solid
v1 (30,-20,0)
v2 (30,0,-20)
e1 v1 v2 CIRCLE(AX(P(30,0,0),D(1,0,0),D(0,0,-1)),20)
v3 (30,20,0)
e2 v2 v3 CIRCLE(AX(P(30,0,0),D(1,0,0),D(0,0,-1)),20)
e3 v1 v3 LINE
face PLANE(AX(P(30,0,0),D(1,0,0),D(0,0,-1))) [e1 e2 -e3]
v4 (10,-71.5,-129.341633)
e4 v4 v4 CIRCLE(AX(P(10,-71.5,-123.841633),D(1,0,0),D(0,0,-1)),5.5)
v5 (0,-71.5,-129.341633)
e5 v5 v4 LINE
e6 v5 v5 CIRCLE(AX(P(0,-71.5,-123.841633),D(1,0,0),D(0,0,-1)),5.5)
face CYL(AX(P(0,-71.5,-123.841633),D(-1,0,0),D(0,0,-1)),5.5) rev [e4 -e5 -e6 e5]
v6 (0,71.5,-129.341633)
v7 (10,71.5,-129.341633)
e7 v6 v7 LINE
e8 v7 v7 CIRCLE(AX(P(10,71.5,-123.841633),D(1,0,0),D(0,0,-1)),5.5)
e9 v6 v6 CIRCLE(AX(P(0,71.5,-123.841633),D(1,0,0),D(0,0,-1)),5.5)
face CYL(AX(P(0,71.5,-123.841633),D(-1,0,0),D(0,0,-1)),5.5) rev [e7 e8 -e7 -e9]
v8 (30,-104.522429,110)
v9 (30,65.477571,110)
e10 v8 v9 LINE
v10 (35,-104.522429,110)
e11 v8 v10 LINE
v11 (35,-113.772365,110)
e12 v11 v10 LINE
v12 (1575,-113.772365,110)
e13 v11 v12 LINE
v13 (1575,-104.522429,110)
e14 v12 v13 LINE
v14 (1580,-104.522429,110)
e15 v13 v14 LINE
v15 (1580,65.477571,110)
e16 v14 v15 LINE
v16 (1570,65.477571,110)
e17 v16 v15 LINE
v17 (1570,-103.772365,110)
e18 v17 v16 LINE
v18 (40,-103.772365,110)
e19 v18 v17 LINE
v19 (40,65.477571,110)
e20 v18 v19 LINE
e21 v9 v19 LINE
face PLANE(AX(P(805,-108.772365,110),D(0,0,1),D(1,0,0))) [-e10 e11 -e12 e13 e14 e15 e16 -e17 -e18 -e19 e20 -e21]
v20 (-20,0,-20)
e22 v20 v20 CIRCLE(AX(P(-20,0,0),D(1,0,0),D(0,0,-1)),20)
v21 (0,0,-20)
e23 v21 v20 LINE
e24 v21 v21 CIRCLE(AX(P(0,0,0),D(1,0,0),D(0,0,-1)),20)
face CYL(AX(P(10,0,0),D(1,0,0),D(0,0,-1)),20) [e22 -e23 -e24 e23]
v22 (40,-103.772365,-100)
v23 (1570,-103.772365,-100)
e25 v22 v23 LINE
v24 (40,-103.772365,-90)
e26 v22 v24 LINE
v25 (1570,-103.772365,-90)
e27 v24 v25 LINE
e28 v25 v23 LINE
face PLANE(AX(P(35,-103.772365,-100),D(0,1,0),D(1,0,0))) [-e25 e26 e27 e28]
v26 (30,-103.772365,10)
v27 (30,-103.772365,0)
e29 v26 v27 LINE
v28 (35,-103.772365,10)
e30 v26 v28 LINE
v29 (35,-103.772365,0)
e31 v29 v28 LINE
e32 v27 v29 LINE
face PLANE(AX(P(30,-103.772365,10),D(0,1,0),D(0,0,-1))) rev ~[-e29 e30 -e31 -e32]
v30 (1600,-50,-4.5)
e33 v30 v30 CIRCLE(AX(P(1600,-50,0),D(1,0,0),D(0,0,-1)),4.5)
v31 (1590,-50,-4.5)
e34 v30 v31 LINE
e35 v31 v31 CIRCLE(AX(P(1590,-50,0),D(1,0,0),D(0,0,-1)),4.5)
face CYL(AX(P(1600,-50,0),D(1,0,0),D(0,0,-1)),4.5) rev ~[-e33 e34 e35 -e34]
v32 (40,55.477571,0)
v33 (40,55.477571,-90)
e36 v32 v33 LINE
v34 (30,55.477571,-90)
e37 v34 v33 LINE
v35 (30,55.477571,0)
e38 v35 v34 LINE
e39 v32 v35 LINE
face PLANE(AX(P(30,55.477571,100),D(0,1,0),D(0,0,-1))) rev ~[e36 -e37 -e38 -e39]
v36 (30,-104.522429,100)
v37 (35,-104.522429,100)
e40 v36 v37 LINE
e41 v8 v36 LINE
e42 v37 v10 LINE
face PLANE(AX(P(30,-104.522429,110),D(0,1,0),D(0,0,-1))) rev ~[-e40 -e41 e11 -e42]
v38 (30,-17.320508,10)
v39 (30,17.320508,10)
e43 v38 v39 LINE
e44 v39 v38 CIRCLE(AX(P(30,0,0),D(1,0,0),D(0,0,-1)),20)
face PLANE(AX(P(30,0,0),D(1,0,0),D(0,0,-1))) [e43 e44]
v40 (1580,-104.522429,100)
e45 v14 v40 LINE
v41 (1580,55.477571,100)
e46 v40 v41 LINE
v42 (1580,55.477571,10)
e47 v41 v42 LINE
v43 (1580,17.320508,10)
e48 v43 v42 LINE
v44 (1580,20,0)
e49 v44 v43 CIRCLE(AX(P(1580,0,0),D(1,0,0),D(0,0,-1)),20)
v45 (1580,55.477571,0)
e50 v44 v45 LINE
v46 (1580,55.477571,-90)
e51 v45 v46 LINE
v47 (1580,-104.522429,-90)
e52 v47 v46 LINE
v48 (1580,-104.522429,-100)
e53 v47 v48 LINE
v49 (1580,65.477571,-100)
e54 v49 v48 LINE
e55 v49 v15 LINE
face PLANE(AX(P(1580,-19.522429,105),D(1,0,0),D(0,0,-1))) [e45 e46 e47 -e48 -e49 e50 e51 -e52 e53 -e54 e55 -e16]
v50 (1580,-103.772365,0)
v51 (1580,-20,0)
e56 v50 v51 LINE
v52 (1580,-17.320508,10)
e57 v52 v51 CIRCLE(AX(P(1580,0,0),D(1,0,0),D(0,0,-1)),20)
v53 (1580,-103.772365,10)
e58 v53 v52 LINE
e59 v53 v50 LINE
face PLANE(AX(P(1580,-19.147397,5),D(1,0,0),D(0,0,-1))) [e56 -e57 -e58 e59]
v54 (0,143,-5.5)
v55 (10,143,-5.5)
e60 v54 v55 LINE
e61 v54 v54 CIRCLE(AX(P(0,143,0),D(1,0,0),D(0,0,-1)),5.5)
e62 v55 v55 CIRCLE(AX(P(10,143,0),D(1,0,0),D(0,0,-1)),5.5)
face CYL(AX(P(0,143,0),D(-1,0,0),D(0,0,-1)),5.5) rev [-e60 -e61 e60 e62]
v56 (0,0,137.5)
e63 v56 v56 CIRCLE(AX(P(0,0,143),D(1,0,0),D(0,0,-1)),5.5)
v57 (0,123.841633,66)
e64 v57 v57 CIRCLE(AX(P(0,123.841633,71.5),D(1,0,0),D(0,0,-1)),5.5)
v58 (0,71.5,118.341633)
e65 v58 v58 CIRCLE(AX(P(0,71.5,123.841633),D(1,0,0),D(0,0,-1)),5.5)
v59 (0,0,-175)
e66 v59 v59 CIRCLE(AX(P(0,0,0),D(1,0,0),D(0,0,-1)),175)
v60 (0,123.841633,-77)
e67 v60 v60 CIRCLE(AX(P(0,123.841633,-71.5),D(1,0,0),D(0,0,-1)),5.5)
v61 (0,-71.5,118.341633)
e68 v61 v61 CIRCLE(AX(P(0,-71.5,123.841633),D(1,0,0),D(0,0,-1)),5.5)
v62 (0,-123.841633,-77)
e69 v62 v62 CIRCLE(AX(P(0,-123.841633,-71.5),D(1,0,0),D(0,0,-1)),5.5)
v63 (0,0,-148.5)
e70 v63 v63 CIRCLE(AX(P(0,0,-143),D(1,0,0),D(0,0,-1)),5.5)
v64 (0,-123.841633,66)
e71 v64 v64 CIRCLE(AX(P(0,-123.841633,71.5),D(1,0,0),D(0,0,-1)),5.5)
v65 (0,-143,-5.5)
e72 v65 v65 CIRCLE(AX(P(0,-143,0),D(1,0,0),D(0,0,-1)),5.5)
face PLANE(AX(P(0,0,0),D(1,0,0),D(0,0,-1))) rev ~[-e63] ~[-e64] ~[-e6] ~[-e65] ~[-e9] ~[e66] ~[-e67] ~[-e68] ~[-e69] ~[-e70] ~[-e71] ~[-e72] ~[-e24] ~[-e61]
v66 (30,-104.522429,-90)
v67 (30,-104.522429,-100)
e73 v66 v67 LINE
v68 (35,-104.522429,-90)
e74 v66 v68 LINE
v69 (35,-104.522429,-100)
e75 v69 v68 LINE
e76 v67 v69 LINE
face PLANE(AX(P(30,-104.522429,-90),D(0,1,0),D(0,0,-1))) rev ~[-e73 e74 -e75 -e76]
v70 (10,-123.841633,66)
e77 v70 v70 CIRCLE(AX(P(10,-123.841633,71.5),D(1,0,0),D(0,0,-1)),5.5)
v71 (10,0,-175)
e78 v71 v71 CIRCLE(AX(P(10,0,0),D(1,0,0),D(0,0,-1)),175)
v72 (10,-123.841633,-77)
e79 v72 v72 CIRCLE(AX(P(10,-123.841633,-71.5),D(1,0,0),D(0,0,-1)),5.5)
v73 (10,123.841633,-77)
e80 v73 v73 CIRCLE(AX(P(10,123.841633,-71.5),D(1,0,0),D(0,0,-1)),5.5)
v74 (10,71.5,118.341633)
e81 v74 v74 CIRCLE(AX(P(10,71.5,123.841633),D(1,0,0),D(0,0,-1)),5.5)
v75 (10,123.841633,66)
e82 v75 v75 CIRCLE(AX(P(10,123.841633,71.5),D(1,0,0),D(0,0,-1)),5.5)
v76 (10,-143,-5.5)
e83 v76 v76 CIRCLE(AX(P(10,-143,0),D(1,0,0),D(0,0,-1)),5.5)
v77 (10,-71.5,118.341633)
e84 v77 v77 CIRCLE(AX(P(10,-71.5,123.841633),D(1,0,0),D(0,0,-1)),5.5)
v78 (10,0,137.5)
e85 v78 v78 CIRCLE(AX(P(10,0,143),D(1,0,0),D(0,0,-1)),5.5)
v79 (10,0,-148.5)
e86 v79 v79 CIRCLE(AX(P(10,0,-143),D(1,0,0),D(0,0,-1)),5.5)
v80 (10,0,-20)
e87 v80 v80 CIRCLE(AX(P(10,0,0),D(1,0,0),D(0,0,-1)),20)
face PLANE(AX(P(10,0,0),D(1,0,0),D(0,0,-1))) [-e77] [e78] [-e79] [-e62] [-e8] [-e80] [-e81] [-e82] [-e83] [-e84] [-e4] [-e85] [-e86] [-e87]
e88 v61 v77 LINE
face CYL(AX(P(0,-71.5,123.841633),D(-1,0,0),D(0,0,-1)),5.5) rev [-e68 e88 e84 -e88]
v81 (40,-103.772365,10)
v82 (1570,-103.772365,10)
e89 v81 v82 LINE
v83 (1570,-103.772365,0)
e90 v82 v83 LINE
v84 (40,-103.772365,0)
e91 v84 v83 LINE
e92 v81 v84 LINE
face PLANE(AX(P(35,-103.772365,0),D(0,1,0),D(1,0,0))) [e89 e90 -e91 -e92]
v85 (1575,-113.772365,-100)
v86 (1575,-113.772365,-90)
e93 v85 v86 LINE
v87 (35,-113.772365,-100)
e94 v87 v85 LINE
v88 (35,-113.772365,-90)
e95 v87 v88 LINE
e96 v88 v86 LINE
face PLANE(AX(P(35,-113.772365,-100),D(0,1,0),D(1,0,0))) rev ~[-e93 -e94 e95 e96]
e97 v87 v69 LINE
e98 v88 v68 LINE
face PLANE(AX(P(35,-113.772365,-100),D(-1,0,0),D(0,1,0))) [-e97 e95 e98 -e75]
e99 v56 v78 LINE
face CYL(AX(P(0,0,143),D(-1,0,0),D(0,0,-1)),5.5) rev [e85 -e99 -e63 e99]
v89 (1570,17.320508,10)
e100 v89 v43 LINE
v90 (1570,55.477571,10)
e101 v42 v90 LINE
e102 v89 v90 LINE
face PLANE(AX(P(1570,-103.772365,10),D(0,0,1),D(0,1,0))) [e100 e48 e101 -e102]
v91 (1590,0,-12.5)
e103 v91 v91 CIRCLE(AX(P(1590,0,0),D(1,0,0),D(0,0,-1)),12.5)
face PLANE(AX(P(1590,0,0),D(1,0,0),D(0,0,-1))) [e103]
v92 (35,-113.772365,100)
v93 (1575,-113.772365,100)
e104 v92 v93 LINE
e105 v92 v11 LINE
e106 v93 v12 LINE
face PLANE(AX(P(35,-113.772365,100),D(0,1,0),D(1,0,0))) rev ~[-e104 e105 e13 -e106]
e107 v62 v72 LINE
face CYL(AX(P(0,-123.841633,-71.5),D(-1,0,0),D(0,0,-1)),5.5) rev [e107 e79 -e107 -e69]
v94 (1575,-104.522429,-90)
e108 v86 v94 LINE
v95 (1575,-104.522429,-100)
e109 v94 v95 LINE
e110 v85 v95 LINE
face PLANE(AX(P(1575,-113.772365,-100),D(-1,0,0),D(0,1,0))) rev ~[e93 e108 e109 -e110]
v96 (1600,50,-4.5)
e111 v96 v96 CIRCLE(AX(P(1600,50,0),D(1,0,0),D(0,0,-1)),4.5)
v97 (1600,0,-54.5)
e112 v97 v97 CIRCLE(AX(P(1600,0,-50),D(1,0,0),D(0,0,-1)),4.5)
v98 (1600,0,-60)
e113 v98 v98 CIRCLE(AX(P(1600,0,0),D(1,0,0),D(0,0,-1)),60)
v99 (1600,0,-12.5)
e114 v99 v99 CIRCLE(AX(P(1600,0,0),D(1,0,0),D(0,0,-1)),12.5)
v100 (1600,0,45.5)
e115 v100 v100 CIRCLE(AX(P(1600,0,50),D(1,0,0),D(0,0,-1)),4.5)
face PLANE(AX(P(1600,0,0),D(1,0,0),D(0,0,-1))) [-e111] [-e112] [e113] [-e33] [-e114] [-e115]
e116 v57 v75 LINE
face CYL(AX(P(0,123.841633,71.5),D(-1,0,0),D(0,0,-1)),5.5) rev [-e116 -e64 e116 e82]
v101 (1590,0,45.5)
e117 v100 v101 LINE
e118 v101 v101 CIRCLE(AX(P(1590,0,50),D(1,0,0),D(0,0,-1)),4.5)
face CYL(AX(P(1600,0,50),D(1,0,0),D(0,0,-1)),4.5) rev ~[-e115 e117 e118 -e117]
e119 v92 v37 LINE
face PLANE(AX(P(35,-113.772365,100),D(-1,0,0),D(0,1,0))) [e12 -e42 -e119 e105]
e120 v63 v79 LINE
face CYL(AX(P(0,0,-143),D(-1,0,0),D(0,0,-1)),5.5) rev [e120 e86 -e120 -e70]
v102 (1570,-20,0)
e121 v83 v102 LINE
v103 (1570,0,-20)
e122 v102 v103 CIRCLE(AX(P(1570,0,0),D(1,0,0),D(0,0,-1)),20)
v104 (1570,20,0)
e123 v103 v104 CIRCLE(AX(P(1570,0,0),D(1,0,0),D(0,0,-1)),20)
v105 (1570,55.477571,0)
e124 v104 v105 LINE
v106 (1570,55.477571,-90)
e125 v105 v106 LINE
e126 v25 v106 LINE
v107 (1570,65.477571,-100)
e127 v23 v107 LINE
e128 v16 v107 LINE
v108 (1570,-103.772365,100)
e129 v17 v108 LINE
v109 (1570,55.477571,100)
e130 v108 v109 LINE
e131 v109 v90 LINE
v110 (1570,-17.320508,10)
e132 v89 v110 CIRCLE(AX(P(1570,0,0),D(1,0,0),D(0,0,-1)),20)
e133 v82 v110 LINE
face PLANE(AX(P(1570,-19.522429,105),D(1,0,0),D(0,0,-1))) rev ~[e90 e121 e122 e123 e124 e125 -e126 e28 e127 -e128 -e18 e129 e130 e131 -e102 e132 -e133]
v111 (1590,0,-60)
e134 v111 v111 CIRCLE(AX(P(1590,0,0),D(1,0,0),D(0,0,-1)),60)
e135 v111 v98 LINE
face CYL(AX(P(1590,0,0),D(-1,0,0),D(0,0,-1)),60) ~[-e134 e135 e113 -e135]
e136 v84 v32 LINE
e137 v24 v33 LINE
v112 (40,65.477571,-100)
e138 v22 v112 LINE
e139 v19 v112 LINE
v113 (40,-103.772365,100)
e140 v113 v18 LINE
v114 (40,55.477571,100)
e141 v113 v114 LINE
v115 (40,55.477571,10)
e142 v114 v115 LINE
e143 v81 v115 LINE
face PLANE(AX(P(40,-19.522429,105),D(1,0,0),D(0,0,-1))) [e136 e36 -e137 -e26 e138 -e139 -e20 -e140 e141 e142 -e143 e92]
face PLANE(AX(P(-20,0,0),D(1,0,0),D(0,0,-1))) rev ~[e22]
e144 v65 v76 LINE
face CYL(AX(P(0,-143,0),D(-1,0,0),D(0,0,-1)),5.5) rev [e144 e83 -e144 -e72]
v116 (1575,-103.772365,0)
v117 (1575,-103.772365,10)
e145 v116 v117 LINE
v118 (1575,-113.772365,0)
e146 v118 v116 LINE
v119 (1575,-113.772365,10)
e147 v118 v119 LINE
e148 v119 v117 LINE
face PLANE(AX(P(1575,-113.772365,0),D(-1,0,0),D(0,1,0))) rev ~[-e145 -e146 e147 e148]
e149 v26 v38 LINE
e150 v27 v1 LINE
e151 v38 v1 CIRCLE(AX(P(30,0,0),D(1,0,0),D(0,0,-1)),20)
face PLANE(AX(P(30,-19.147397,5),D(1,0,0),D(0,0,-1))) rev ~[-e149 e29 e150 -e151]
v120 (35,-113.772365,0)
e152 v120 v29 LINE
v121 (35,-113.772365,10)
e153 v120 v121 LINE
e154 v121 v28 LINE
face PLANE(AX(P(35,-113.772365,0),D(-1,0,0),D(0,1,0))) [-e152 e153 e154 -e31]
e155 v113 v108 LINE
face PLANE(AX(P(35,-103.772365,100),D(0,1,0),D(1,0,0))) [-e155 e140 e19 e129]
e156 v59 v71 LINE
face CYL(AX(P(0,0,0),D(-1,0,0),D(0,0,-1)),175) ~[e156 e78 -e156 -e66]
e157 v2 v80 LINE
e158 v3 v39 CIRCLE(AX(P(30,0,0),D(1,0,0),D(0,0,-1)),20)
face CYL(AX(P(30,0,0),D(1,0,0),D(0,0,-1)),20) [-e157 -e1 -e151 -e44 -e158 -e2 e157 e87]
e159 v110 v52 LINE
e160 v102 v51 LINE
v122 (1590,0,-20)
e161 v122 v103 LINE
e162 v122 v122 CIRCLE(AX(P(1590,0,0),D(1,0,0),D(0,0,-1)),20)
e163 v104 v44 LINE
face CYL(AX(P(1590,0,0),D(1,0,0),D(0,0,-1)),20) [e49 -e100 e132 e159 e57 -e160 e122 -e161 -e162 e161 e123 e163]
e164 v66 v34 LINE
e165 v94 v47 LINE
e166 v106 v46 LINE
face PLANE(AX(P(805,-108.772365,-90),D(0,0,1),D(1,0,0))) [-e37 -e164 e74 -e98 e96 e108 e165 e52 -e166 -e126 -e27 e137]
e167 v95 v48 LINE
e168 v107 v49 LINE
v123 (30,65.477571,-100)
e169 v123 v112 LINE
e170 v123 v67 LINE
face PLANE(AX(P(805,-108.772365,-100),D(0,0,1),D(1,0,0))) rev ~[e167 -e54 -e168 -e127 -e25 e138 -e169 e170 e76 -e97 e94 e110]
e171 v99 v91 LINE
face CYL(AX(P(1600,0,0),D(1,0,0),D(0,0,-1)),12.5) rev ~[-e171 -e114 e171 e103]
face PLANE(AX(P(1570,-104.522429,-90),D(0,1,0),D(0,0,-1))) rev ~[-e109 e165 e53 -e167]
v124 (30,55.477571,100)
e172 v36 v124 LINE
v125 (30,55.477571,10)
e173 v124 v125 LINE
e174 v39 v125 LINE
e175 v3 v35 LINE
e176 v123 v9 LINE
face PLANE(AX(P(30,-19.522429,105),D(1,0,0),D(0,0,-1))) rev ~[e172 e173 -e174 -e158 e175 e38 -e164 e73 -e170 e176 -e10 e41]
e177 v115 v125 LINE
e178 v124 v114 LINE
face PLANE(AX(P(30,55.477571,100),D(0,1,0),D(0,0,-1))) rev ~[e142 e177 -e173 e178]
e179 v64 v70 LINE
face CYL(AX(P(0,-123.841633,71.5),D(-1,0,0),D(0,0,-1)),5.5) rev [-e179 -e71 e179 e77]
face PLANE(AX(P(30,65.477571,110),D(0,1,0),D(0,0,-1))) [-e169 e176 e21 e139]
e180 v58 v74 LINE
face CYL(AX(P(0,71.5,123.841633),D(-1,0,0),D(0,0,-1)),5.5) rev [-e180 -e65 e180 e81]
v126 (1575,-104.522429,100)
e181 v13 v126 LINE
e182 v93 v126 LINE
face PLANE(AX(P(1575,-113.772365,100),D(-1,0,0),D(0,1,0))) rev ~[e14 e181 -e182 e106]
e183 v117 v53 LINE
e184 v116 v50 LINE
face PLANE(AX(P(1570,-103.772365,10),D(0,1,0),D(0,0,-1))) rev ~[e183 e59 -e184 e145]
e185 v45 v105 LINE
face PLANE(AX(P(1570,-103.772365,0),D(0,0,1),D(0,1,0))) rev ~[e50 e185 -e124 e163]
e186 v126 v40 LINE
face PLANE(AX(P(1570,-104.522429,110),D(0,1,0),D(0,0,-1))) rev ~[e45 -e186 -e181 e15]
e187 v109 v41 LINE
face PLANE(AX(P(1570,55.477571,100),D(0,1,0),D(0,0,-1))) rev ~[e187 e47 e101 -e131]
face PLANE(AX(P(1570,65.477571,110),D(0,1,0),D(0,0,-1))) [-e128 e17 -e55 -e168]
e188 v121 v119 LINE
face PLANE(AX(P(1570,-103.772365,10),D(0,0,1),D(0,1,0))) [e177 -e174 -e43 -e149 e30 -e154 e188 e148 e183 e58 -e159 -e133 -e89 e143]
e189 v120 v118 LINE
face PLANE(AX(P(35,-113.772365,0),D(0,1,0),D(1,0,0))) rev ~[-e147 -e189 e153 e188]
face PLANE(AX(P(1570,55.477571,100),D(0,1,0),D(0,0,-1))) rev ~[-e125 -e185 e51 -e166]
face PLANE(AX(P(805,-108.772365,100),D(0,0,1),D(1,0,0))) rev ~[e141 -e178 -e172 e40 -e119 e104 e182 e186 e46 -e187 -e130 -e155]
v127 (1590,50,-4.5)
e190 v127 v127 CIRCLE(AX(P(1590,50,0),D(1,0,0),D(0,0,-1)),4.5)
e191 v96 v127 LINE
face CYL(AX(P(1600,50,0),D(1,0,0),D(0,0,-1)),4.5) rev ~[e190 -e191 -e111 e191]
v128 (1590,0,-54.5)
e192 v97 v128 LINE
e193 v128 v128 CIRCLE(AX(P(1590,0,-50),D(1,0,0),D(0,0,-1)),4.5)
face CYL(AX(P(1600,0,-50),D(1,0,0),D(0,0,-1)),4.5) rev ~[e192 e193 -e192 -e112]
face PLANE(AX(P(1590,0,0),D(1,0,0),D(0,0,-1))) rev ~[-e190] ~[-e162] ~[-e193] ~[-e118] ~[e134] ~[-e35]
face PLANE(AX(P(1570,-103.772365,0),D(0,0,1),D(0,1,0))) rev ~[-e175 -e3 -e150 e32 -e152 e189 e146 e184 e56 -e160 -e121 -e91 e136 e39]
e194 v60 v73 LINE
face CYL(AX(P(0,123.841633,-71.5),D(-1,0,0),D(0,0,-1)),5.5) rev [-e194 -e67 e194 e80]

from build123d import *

# Parameters (mm, degrees)
SKETCH_1_R             = 175
SKETCH_1_R_2           = 5.5
EXTRUDE_1_DEPTH        = 10
SKETCH_2_R             = 20
EXTRUDE_2_DEPTH        = 30
EXTRUDE_START          = 20
SKETCH_2_2_R           = 20
EXTRUDE_3_DEPTH        = 20
SKETCH_3_W             = 10
SKETCH_3_H             = 169.24993674
EXTRUDE_1_2_DEPTH      = 10
SKETCH_4_W             = 1540
SKETCH_4_H             = 10
EXTRUDE_2_2_DEPTH      = 10
PATTERN_LINEAR_1_COUNT = 2
PATTERN_LINEAR_1_PITCH = 1540
PATTERN_LINEAR_2_COUNT = 2
PATTERN_LINEAR_2_PITCH = 1560
SKETCH_5_R             = 60
EXTRUDE_4_DEPTH        = 10
CUT_EXTRUDE_2_REACH    = 1640.795
SKETCH_6_R             = 4.5
SKETCH_7_R             = 12.5
CUT_EXTRUDE_3_DEPTH    = 10
SKETCH_8_W             = 200
SKETCH_8_H             = 10
EXTRUDE_3_2_DEPTH      = 10
PATTERN_LINEAR_4_COUNT = 2
PATTERN_LINEAR_4_PITCH = 1540
SKETCH_9_W             = 10
SKETCH_9_H             = 170
EXTRUDE_4_2_DEPTH      = 10
PATTERN_LINEAR_6_COUNT = 2
PATTERN_LINEAR_6_PITCH = 100
PATTERN_LINEAR_7_COUNT = 2
PATTERN_LINEAR_7_PITCH = 1540
SKETCH_10_W            = 10
SKETCH_10_H            = 170
EXTRUDE_5_DEPTH        = 10
PATTERN_LINEAR_8_COUNT = 2
PATTERN_LINEAR_8_PITCH = 100
PATTERN_LINEAR_9_COUNT = 2
PATTERN_LINEAR_9_PITCH = 1540


with BuildPart() as part:
    # 草图1 → Extrude 1 (new body)
    with BuildSketch(Plane(origin=(0, 0, 0), x_dir=(0, 0, -1), z_dir=(1, 0, 0))):
        Circle(SKETCH_1_R)
        with Locations((-143, 0)):
            Circle(SKETCH_1_R_2, mode=Mode.SUBTRACT)
        with Locations((-123.841632741, 71.5)):
            Circle(SKETCH_1_R_2, mode=Mode.SUBTRACT)
        with Locations((-71.5, 123.841632741)):
            Circle(SKETCH_1_R_2, mode=Mode.SUBTRACT)
        with Locations((0, 143)):
            Circle(SKETCH_1_R_2, mode=Mode.SUBTRACT)
        with Locations((71.5, 123.841632741)):
            Circle(SKETCH_1_R_2, mode=Mode.SUBTRACT)
        with Locations((123.841632741, 71.5)):
            Circle(SKETCH_1_R_2, mode=Mode.SUBTRACT)
        with Locations((143, 0)):
            Circle(SKETCH_1_R_2, mode=Mode.SUBTRACT)
        with Locations((123.841632741, -71.5)):
            Circle(SKETCH_1_R_2, mode=Mode.SUBTRACT)
        with Locations((71.5, -123.841632741)):
            Circle(SKETCH_1_R_2, mode=Mode.SUBTRACT)
        with Locations((0, -143)):
            Circle(SKETCH_1_R_2, mode=Mode.SUBTRACT)
        with Locations((-71.5, -123.841632741)):
            Circle(SKETCH_1_R_2, mode=Mode.SUBTRACT)
        with Locations((-123.841632741, -71.5)):
            Circle(SKETCH_1_R_2, mode=Mode.SUBTRACT)
    extrude(amount=EXTRUDE_1_DEPTH)

    # 草图2 → Extrude 2 (add)
    with BuildSketch(Plane(origin=(10, 0, 0), x_dir=(0, 0, -1), z_dir=(1, 0, 0))):
        Circle(SKETCH_2_R)
    extrude(amount=-EXTRUDE_2_DEPTH)

    # 草图2<2> → Extrude 3 (add)
    with BuildSketch(Plane(origin=(10, 0, 0), x_dir=(0, 0, -1), z_dir=(1, 0, 0)).offset(EXTRUDE_START)):
        Circle(SKETCH_2_2_R)
    extrude_3 = extrude(amount=-EXTRUDE_3_DEPTH)

    # 草图3 → Extrude 1 2 (add)
    with BuildSketch(Plane(origin=(30, 0, 0), x_dir=(0, 0, -1), z_dir=(1, 0, 0))):
        with Locations((-5, -19.147397114)):
            Rectangle(SKETCH_3_W, SKETCH_3_H)
    extrude_1_2 = extrude(amount=EXTRUDE_1_2_DEPTH)

    # 草图4 → Extrude 2 2 (add)
    with BuildSketch(Plane.XY):
        with Locations((805, -108.772365484)):
            Rectangle(SKETCH_4_W, SKETCH_4_H)
    extrude_2_2 = extrude(amount=EXTRUDE_2_2_DEPTH)

    # 阵列(线性)1: Extrude 1 2 ×2
    with Locations(*[(i * PATTERN_LINEAR_1_PITCH, 0, 0) for i in range(1, PATTERN_LINEAR_1_COUNT)]):
        add(extrude_1_2)

    # 阵列(线性)2: Extrude 3 ×2
    with Locations(*[(i * PATTERN_LINEAR_2_PITCH, 0, 0) for i in range(1, PATTERN_LINEAR_2_COUNT)]):
        add(extrude_3)

    # 草图5 → Extrude 4 (add)
    with BuildSketch(Plane(origin=(1590, 0, 0), x_dir=(0, 0, -1), z_dir=(1, 0, 0))):
        Circle(SKETCH_5_R)
    extrude(amount=EXTRUDE_4_DEPTH)

    # 草图6 → 切除-拉伸2 (cut, up to next)
    with BuildSketch(Plane(origin=(1600, 0, 0), x_dir=(0, 0, -1), z_dir=(1, 0, 0)), mode=Mode.PRIVATE) as cut_extrude_2_sk1:
        with Locations((0, 50)):
            Circle(SKETCH_6_R)
    cut_extrude_2_tool1 = extrude(cut_extrude_2_sk1.sketch, amount=-CUT_EXTRUDE_2_REACH, mode=Mode.PRIVATE) & part.part
    # 草图6 → 切除-拉伸2 (cut, up to next)
    with BuildSketch(Plane(origin=(1600, 0, 0), x_dir=(0, 0, -1), z_dir=(1, 0, 0)), mode=Mode.PRIVATE) as cut_extrude_2_sk2:
        with Locations((50, 0)):
            Circle(SKETCH_6_R)
    cut_extrude_2_tool2 = extrude(cut_extrude_2_sk2.sketch, amount=-CUT_EXTRUDE_2_REACH, mode=Mode.PRIVATE) & part.part
    # 草图6 → 切除-拉伸2 (cut, up to next)
    with BuildSketch(Plane(origin=(1600, 0, 0), x_dir=(0, 0, -1), z_dir=(1, 0, 0)), mode=Mode.PRIVATE) as cut_extrude_2_sk3:
        with Locations((0, -50)):
            Circle(SKETCH_6_R)
    cut_extrude_2_tool3 = extrude(cut_extrude_2_sk3.sketch, amount=-CUT_EXTRUDE_2_REACH, mode=Mode.PRIVATE) & part.part
    # 草图6 → 切除-拉伸2 (cut, up to next)
    with BuildSketch(Plane(origin=(1600, 0, 0), x_dir=(0, 0, -1), z_dir=(1, 0, 0)), mode=Mode.PRIVATE) as cut_extrude_2_sk4:
        with Locations((-50, 0)):
            Circle(SKETCH_6_R)
    cut_extrude_2_tool4 = extrude(cut_extrude_2_sk4.sketch, amount=-CUT_EXTRUDE_2_REACH, mode=Mode.PRIVATE) & part.part
    add(cut_extrude_2_tool1.solids().sort_by_distance((1600, 50, 0))[0], mode=Mode.SUBTRACT)
    add(cut_extrude_2_tool2.solids().sort_by_distance((1600, 0, -50))[0], mode=Mode.SUBTRACT)
    add(cut_extrude_2_tool3.solids().sort_by_distance((1600, -50, 0))[0], mode=Mode.SUBTRACT)
    add(cut_extrude_2_tool4.solids().sort_by_distance((1600, 0, 50))[0], mode=Mode.SUBTRACT)

    # 草图7 → 切除-拉伸3 (cut)
    with BuildSketch(Plane(origin=(1600, 0, 0), x_dir=(0, 0, -1), z_dir=(1, 0, 0))):
        Circle(SKETCH_7_R)
    extrude(amount=-CUT_EXTRUDE_3_DEPTH, mode=Mode.SUBTRACT)

    # 草图8 → Extrude 3 2 (add)
    with BuildSketch(Plane(origin=(30, 0, 0), x_dir=(0, 0, -1), z_dir=(1, 0, 0))):
        with Locations((0, 60.477571256)):
            Rectangle(SKETCH_8_W, SKETCH_8_H)
    extrude_3_2 = extrude(amount=EXTRUDE_3_2_DEPTH)

    # 阵列(线性)4: Extrude 3 2 ×2
    with Locations(*[(i * PATTERN_LINEAR_4_PITCH, 0, 0) for i in range(1, PATTERN_LINEAR_4_COUNT)]):
        add(extrude_3_2)

    # 草图9 → Extrude 4 2 (add)
    with BuildSketch(Plane(origin=(30, 0, 0), x_dir=(0, 0, -1), z_dir=(1, 0, 0))):
        with Locations((95, -19.522428744)):
            Rectangle(SKETCH_9_W, SKETCH_9_H)
    extrude_4_2 = extrude(amount=EXTRUDE_4_2_DEPTH)

    # 阵列(线性)6: Extrude 2 2 ×2
    with Locations(*[(0, 0, -i * PATTERN_LINEAR_6_PITCH) for i in range(1, PATTERN_LINEAR_6_COUNT)]):
        add(extrude_2_2)

    # 阵列(线性)7: Extrude 4 2 ×2
    with Locations(*[(i * PATTERN_LINEAR_7_PITCH, 0, 0) for i in range(1, PATTERN_LINEAR_7_COUNT)]):
        add(extrude_4_2)

    # 草图10 → 拉伸-薄壁5 (add)
    with BuildSketch(Plane(origin=(30, 0, 0), x_dir=(0, 0, -1), z_dir=(1, 0, 0))):
        with Locations((-105, -19.522428744)):
            Rectangle(SKETCH_10_W, SKETCH_10_H)
    extrude_5 = extrude(amount=EXTRUDE_5_DEPTH)

    # 阵列(线性)8: Extrude 2 2 ×2
    with Locations(*[(0, 0, i * PATTERN_LINEAR_8_PITCH) for i in range(1, PATTERN_LINEAR_8_COUNT)]):
        add(extrude_2_2)

    # 阵列(线性)9: 拉伸-薄壁5 ×2
    with Locations(*[(i * PATTERN_LINEAR_9_PITCH, 0, 0) for i in range(1, PATTERN_LINEAR_9_COUNT)]):
        add(extrude_5)


solid = part.part
